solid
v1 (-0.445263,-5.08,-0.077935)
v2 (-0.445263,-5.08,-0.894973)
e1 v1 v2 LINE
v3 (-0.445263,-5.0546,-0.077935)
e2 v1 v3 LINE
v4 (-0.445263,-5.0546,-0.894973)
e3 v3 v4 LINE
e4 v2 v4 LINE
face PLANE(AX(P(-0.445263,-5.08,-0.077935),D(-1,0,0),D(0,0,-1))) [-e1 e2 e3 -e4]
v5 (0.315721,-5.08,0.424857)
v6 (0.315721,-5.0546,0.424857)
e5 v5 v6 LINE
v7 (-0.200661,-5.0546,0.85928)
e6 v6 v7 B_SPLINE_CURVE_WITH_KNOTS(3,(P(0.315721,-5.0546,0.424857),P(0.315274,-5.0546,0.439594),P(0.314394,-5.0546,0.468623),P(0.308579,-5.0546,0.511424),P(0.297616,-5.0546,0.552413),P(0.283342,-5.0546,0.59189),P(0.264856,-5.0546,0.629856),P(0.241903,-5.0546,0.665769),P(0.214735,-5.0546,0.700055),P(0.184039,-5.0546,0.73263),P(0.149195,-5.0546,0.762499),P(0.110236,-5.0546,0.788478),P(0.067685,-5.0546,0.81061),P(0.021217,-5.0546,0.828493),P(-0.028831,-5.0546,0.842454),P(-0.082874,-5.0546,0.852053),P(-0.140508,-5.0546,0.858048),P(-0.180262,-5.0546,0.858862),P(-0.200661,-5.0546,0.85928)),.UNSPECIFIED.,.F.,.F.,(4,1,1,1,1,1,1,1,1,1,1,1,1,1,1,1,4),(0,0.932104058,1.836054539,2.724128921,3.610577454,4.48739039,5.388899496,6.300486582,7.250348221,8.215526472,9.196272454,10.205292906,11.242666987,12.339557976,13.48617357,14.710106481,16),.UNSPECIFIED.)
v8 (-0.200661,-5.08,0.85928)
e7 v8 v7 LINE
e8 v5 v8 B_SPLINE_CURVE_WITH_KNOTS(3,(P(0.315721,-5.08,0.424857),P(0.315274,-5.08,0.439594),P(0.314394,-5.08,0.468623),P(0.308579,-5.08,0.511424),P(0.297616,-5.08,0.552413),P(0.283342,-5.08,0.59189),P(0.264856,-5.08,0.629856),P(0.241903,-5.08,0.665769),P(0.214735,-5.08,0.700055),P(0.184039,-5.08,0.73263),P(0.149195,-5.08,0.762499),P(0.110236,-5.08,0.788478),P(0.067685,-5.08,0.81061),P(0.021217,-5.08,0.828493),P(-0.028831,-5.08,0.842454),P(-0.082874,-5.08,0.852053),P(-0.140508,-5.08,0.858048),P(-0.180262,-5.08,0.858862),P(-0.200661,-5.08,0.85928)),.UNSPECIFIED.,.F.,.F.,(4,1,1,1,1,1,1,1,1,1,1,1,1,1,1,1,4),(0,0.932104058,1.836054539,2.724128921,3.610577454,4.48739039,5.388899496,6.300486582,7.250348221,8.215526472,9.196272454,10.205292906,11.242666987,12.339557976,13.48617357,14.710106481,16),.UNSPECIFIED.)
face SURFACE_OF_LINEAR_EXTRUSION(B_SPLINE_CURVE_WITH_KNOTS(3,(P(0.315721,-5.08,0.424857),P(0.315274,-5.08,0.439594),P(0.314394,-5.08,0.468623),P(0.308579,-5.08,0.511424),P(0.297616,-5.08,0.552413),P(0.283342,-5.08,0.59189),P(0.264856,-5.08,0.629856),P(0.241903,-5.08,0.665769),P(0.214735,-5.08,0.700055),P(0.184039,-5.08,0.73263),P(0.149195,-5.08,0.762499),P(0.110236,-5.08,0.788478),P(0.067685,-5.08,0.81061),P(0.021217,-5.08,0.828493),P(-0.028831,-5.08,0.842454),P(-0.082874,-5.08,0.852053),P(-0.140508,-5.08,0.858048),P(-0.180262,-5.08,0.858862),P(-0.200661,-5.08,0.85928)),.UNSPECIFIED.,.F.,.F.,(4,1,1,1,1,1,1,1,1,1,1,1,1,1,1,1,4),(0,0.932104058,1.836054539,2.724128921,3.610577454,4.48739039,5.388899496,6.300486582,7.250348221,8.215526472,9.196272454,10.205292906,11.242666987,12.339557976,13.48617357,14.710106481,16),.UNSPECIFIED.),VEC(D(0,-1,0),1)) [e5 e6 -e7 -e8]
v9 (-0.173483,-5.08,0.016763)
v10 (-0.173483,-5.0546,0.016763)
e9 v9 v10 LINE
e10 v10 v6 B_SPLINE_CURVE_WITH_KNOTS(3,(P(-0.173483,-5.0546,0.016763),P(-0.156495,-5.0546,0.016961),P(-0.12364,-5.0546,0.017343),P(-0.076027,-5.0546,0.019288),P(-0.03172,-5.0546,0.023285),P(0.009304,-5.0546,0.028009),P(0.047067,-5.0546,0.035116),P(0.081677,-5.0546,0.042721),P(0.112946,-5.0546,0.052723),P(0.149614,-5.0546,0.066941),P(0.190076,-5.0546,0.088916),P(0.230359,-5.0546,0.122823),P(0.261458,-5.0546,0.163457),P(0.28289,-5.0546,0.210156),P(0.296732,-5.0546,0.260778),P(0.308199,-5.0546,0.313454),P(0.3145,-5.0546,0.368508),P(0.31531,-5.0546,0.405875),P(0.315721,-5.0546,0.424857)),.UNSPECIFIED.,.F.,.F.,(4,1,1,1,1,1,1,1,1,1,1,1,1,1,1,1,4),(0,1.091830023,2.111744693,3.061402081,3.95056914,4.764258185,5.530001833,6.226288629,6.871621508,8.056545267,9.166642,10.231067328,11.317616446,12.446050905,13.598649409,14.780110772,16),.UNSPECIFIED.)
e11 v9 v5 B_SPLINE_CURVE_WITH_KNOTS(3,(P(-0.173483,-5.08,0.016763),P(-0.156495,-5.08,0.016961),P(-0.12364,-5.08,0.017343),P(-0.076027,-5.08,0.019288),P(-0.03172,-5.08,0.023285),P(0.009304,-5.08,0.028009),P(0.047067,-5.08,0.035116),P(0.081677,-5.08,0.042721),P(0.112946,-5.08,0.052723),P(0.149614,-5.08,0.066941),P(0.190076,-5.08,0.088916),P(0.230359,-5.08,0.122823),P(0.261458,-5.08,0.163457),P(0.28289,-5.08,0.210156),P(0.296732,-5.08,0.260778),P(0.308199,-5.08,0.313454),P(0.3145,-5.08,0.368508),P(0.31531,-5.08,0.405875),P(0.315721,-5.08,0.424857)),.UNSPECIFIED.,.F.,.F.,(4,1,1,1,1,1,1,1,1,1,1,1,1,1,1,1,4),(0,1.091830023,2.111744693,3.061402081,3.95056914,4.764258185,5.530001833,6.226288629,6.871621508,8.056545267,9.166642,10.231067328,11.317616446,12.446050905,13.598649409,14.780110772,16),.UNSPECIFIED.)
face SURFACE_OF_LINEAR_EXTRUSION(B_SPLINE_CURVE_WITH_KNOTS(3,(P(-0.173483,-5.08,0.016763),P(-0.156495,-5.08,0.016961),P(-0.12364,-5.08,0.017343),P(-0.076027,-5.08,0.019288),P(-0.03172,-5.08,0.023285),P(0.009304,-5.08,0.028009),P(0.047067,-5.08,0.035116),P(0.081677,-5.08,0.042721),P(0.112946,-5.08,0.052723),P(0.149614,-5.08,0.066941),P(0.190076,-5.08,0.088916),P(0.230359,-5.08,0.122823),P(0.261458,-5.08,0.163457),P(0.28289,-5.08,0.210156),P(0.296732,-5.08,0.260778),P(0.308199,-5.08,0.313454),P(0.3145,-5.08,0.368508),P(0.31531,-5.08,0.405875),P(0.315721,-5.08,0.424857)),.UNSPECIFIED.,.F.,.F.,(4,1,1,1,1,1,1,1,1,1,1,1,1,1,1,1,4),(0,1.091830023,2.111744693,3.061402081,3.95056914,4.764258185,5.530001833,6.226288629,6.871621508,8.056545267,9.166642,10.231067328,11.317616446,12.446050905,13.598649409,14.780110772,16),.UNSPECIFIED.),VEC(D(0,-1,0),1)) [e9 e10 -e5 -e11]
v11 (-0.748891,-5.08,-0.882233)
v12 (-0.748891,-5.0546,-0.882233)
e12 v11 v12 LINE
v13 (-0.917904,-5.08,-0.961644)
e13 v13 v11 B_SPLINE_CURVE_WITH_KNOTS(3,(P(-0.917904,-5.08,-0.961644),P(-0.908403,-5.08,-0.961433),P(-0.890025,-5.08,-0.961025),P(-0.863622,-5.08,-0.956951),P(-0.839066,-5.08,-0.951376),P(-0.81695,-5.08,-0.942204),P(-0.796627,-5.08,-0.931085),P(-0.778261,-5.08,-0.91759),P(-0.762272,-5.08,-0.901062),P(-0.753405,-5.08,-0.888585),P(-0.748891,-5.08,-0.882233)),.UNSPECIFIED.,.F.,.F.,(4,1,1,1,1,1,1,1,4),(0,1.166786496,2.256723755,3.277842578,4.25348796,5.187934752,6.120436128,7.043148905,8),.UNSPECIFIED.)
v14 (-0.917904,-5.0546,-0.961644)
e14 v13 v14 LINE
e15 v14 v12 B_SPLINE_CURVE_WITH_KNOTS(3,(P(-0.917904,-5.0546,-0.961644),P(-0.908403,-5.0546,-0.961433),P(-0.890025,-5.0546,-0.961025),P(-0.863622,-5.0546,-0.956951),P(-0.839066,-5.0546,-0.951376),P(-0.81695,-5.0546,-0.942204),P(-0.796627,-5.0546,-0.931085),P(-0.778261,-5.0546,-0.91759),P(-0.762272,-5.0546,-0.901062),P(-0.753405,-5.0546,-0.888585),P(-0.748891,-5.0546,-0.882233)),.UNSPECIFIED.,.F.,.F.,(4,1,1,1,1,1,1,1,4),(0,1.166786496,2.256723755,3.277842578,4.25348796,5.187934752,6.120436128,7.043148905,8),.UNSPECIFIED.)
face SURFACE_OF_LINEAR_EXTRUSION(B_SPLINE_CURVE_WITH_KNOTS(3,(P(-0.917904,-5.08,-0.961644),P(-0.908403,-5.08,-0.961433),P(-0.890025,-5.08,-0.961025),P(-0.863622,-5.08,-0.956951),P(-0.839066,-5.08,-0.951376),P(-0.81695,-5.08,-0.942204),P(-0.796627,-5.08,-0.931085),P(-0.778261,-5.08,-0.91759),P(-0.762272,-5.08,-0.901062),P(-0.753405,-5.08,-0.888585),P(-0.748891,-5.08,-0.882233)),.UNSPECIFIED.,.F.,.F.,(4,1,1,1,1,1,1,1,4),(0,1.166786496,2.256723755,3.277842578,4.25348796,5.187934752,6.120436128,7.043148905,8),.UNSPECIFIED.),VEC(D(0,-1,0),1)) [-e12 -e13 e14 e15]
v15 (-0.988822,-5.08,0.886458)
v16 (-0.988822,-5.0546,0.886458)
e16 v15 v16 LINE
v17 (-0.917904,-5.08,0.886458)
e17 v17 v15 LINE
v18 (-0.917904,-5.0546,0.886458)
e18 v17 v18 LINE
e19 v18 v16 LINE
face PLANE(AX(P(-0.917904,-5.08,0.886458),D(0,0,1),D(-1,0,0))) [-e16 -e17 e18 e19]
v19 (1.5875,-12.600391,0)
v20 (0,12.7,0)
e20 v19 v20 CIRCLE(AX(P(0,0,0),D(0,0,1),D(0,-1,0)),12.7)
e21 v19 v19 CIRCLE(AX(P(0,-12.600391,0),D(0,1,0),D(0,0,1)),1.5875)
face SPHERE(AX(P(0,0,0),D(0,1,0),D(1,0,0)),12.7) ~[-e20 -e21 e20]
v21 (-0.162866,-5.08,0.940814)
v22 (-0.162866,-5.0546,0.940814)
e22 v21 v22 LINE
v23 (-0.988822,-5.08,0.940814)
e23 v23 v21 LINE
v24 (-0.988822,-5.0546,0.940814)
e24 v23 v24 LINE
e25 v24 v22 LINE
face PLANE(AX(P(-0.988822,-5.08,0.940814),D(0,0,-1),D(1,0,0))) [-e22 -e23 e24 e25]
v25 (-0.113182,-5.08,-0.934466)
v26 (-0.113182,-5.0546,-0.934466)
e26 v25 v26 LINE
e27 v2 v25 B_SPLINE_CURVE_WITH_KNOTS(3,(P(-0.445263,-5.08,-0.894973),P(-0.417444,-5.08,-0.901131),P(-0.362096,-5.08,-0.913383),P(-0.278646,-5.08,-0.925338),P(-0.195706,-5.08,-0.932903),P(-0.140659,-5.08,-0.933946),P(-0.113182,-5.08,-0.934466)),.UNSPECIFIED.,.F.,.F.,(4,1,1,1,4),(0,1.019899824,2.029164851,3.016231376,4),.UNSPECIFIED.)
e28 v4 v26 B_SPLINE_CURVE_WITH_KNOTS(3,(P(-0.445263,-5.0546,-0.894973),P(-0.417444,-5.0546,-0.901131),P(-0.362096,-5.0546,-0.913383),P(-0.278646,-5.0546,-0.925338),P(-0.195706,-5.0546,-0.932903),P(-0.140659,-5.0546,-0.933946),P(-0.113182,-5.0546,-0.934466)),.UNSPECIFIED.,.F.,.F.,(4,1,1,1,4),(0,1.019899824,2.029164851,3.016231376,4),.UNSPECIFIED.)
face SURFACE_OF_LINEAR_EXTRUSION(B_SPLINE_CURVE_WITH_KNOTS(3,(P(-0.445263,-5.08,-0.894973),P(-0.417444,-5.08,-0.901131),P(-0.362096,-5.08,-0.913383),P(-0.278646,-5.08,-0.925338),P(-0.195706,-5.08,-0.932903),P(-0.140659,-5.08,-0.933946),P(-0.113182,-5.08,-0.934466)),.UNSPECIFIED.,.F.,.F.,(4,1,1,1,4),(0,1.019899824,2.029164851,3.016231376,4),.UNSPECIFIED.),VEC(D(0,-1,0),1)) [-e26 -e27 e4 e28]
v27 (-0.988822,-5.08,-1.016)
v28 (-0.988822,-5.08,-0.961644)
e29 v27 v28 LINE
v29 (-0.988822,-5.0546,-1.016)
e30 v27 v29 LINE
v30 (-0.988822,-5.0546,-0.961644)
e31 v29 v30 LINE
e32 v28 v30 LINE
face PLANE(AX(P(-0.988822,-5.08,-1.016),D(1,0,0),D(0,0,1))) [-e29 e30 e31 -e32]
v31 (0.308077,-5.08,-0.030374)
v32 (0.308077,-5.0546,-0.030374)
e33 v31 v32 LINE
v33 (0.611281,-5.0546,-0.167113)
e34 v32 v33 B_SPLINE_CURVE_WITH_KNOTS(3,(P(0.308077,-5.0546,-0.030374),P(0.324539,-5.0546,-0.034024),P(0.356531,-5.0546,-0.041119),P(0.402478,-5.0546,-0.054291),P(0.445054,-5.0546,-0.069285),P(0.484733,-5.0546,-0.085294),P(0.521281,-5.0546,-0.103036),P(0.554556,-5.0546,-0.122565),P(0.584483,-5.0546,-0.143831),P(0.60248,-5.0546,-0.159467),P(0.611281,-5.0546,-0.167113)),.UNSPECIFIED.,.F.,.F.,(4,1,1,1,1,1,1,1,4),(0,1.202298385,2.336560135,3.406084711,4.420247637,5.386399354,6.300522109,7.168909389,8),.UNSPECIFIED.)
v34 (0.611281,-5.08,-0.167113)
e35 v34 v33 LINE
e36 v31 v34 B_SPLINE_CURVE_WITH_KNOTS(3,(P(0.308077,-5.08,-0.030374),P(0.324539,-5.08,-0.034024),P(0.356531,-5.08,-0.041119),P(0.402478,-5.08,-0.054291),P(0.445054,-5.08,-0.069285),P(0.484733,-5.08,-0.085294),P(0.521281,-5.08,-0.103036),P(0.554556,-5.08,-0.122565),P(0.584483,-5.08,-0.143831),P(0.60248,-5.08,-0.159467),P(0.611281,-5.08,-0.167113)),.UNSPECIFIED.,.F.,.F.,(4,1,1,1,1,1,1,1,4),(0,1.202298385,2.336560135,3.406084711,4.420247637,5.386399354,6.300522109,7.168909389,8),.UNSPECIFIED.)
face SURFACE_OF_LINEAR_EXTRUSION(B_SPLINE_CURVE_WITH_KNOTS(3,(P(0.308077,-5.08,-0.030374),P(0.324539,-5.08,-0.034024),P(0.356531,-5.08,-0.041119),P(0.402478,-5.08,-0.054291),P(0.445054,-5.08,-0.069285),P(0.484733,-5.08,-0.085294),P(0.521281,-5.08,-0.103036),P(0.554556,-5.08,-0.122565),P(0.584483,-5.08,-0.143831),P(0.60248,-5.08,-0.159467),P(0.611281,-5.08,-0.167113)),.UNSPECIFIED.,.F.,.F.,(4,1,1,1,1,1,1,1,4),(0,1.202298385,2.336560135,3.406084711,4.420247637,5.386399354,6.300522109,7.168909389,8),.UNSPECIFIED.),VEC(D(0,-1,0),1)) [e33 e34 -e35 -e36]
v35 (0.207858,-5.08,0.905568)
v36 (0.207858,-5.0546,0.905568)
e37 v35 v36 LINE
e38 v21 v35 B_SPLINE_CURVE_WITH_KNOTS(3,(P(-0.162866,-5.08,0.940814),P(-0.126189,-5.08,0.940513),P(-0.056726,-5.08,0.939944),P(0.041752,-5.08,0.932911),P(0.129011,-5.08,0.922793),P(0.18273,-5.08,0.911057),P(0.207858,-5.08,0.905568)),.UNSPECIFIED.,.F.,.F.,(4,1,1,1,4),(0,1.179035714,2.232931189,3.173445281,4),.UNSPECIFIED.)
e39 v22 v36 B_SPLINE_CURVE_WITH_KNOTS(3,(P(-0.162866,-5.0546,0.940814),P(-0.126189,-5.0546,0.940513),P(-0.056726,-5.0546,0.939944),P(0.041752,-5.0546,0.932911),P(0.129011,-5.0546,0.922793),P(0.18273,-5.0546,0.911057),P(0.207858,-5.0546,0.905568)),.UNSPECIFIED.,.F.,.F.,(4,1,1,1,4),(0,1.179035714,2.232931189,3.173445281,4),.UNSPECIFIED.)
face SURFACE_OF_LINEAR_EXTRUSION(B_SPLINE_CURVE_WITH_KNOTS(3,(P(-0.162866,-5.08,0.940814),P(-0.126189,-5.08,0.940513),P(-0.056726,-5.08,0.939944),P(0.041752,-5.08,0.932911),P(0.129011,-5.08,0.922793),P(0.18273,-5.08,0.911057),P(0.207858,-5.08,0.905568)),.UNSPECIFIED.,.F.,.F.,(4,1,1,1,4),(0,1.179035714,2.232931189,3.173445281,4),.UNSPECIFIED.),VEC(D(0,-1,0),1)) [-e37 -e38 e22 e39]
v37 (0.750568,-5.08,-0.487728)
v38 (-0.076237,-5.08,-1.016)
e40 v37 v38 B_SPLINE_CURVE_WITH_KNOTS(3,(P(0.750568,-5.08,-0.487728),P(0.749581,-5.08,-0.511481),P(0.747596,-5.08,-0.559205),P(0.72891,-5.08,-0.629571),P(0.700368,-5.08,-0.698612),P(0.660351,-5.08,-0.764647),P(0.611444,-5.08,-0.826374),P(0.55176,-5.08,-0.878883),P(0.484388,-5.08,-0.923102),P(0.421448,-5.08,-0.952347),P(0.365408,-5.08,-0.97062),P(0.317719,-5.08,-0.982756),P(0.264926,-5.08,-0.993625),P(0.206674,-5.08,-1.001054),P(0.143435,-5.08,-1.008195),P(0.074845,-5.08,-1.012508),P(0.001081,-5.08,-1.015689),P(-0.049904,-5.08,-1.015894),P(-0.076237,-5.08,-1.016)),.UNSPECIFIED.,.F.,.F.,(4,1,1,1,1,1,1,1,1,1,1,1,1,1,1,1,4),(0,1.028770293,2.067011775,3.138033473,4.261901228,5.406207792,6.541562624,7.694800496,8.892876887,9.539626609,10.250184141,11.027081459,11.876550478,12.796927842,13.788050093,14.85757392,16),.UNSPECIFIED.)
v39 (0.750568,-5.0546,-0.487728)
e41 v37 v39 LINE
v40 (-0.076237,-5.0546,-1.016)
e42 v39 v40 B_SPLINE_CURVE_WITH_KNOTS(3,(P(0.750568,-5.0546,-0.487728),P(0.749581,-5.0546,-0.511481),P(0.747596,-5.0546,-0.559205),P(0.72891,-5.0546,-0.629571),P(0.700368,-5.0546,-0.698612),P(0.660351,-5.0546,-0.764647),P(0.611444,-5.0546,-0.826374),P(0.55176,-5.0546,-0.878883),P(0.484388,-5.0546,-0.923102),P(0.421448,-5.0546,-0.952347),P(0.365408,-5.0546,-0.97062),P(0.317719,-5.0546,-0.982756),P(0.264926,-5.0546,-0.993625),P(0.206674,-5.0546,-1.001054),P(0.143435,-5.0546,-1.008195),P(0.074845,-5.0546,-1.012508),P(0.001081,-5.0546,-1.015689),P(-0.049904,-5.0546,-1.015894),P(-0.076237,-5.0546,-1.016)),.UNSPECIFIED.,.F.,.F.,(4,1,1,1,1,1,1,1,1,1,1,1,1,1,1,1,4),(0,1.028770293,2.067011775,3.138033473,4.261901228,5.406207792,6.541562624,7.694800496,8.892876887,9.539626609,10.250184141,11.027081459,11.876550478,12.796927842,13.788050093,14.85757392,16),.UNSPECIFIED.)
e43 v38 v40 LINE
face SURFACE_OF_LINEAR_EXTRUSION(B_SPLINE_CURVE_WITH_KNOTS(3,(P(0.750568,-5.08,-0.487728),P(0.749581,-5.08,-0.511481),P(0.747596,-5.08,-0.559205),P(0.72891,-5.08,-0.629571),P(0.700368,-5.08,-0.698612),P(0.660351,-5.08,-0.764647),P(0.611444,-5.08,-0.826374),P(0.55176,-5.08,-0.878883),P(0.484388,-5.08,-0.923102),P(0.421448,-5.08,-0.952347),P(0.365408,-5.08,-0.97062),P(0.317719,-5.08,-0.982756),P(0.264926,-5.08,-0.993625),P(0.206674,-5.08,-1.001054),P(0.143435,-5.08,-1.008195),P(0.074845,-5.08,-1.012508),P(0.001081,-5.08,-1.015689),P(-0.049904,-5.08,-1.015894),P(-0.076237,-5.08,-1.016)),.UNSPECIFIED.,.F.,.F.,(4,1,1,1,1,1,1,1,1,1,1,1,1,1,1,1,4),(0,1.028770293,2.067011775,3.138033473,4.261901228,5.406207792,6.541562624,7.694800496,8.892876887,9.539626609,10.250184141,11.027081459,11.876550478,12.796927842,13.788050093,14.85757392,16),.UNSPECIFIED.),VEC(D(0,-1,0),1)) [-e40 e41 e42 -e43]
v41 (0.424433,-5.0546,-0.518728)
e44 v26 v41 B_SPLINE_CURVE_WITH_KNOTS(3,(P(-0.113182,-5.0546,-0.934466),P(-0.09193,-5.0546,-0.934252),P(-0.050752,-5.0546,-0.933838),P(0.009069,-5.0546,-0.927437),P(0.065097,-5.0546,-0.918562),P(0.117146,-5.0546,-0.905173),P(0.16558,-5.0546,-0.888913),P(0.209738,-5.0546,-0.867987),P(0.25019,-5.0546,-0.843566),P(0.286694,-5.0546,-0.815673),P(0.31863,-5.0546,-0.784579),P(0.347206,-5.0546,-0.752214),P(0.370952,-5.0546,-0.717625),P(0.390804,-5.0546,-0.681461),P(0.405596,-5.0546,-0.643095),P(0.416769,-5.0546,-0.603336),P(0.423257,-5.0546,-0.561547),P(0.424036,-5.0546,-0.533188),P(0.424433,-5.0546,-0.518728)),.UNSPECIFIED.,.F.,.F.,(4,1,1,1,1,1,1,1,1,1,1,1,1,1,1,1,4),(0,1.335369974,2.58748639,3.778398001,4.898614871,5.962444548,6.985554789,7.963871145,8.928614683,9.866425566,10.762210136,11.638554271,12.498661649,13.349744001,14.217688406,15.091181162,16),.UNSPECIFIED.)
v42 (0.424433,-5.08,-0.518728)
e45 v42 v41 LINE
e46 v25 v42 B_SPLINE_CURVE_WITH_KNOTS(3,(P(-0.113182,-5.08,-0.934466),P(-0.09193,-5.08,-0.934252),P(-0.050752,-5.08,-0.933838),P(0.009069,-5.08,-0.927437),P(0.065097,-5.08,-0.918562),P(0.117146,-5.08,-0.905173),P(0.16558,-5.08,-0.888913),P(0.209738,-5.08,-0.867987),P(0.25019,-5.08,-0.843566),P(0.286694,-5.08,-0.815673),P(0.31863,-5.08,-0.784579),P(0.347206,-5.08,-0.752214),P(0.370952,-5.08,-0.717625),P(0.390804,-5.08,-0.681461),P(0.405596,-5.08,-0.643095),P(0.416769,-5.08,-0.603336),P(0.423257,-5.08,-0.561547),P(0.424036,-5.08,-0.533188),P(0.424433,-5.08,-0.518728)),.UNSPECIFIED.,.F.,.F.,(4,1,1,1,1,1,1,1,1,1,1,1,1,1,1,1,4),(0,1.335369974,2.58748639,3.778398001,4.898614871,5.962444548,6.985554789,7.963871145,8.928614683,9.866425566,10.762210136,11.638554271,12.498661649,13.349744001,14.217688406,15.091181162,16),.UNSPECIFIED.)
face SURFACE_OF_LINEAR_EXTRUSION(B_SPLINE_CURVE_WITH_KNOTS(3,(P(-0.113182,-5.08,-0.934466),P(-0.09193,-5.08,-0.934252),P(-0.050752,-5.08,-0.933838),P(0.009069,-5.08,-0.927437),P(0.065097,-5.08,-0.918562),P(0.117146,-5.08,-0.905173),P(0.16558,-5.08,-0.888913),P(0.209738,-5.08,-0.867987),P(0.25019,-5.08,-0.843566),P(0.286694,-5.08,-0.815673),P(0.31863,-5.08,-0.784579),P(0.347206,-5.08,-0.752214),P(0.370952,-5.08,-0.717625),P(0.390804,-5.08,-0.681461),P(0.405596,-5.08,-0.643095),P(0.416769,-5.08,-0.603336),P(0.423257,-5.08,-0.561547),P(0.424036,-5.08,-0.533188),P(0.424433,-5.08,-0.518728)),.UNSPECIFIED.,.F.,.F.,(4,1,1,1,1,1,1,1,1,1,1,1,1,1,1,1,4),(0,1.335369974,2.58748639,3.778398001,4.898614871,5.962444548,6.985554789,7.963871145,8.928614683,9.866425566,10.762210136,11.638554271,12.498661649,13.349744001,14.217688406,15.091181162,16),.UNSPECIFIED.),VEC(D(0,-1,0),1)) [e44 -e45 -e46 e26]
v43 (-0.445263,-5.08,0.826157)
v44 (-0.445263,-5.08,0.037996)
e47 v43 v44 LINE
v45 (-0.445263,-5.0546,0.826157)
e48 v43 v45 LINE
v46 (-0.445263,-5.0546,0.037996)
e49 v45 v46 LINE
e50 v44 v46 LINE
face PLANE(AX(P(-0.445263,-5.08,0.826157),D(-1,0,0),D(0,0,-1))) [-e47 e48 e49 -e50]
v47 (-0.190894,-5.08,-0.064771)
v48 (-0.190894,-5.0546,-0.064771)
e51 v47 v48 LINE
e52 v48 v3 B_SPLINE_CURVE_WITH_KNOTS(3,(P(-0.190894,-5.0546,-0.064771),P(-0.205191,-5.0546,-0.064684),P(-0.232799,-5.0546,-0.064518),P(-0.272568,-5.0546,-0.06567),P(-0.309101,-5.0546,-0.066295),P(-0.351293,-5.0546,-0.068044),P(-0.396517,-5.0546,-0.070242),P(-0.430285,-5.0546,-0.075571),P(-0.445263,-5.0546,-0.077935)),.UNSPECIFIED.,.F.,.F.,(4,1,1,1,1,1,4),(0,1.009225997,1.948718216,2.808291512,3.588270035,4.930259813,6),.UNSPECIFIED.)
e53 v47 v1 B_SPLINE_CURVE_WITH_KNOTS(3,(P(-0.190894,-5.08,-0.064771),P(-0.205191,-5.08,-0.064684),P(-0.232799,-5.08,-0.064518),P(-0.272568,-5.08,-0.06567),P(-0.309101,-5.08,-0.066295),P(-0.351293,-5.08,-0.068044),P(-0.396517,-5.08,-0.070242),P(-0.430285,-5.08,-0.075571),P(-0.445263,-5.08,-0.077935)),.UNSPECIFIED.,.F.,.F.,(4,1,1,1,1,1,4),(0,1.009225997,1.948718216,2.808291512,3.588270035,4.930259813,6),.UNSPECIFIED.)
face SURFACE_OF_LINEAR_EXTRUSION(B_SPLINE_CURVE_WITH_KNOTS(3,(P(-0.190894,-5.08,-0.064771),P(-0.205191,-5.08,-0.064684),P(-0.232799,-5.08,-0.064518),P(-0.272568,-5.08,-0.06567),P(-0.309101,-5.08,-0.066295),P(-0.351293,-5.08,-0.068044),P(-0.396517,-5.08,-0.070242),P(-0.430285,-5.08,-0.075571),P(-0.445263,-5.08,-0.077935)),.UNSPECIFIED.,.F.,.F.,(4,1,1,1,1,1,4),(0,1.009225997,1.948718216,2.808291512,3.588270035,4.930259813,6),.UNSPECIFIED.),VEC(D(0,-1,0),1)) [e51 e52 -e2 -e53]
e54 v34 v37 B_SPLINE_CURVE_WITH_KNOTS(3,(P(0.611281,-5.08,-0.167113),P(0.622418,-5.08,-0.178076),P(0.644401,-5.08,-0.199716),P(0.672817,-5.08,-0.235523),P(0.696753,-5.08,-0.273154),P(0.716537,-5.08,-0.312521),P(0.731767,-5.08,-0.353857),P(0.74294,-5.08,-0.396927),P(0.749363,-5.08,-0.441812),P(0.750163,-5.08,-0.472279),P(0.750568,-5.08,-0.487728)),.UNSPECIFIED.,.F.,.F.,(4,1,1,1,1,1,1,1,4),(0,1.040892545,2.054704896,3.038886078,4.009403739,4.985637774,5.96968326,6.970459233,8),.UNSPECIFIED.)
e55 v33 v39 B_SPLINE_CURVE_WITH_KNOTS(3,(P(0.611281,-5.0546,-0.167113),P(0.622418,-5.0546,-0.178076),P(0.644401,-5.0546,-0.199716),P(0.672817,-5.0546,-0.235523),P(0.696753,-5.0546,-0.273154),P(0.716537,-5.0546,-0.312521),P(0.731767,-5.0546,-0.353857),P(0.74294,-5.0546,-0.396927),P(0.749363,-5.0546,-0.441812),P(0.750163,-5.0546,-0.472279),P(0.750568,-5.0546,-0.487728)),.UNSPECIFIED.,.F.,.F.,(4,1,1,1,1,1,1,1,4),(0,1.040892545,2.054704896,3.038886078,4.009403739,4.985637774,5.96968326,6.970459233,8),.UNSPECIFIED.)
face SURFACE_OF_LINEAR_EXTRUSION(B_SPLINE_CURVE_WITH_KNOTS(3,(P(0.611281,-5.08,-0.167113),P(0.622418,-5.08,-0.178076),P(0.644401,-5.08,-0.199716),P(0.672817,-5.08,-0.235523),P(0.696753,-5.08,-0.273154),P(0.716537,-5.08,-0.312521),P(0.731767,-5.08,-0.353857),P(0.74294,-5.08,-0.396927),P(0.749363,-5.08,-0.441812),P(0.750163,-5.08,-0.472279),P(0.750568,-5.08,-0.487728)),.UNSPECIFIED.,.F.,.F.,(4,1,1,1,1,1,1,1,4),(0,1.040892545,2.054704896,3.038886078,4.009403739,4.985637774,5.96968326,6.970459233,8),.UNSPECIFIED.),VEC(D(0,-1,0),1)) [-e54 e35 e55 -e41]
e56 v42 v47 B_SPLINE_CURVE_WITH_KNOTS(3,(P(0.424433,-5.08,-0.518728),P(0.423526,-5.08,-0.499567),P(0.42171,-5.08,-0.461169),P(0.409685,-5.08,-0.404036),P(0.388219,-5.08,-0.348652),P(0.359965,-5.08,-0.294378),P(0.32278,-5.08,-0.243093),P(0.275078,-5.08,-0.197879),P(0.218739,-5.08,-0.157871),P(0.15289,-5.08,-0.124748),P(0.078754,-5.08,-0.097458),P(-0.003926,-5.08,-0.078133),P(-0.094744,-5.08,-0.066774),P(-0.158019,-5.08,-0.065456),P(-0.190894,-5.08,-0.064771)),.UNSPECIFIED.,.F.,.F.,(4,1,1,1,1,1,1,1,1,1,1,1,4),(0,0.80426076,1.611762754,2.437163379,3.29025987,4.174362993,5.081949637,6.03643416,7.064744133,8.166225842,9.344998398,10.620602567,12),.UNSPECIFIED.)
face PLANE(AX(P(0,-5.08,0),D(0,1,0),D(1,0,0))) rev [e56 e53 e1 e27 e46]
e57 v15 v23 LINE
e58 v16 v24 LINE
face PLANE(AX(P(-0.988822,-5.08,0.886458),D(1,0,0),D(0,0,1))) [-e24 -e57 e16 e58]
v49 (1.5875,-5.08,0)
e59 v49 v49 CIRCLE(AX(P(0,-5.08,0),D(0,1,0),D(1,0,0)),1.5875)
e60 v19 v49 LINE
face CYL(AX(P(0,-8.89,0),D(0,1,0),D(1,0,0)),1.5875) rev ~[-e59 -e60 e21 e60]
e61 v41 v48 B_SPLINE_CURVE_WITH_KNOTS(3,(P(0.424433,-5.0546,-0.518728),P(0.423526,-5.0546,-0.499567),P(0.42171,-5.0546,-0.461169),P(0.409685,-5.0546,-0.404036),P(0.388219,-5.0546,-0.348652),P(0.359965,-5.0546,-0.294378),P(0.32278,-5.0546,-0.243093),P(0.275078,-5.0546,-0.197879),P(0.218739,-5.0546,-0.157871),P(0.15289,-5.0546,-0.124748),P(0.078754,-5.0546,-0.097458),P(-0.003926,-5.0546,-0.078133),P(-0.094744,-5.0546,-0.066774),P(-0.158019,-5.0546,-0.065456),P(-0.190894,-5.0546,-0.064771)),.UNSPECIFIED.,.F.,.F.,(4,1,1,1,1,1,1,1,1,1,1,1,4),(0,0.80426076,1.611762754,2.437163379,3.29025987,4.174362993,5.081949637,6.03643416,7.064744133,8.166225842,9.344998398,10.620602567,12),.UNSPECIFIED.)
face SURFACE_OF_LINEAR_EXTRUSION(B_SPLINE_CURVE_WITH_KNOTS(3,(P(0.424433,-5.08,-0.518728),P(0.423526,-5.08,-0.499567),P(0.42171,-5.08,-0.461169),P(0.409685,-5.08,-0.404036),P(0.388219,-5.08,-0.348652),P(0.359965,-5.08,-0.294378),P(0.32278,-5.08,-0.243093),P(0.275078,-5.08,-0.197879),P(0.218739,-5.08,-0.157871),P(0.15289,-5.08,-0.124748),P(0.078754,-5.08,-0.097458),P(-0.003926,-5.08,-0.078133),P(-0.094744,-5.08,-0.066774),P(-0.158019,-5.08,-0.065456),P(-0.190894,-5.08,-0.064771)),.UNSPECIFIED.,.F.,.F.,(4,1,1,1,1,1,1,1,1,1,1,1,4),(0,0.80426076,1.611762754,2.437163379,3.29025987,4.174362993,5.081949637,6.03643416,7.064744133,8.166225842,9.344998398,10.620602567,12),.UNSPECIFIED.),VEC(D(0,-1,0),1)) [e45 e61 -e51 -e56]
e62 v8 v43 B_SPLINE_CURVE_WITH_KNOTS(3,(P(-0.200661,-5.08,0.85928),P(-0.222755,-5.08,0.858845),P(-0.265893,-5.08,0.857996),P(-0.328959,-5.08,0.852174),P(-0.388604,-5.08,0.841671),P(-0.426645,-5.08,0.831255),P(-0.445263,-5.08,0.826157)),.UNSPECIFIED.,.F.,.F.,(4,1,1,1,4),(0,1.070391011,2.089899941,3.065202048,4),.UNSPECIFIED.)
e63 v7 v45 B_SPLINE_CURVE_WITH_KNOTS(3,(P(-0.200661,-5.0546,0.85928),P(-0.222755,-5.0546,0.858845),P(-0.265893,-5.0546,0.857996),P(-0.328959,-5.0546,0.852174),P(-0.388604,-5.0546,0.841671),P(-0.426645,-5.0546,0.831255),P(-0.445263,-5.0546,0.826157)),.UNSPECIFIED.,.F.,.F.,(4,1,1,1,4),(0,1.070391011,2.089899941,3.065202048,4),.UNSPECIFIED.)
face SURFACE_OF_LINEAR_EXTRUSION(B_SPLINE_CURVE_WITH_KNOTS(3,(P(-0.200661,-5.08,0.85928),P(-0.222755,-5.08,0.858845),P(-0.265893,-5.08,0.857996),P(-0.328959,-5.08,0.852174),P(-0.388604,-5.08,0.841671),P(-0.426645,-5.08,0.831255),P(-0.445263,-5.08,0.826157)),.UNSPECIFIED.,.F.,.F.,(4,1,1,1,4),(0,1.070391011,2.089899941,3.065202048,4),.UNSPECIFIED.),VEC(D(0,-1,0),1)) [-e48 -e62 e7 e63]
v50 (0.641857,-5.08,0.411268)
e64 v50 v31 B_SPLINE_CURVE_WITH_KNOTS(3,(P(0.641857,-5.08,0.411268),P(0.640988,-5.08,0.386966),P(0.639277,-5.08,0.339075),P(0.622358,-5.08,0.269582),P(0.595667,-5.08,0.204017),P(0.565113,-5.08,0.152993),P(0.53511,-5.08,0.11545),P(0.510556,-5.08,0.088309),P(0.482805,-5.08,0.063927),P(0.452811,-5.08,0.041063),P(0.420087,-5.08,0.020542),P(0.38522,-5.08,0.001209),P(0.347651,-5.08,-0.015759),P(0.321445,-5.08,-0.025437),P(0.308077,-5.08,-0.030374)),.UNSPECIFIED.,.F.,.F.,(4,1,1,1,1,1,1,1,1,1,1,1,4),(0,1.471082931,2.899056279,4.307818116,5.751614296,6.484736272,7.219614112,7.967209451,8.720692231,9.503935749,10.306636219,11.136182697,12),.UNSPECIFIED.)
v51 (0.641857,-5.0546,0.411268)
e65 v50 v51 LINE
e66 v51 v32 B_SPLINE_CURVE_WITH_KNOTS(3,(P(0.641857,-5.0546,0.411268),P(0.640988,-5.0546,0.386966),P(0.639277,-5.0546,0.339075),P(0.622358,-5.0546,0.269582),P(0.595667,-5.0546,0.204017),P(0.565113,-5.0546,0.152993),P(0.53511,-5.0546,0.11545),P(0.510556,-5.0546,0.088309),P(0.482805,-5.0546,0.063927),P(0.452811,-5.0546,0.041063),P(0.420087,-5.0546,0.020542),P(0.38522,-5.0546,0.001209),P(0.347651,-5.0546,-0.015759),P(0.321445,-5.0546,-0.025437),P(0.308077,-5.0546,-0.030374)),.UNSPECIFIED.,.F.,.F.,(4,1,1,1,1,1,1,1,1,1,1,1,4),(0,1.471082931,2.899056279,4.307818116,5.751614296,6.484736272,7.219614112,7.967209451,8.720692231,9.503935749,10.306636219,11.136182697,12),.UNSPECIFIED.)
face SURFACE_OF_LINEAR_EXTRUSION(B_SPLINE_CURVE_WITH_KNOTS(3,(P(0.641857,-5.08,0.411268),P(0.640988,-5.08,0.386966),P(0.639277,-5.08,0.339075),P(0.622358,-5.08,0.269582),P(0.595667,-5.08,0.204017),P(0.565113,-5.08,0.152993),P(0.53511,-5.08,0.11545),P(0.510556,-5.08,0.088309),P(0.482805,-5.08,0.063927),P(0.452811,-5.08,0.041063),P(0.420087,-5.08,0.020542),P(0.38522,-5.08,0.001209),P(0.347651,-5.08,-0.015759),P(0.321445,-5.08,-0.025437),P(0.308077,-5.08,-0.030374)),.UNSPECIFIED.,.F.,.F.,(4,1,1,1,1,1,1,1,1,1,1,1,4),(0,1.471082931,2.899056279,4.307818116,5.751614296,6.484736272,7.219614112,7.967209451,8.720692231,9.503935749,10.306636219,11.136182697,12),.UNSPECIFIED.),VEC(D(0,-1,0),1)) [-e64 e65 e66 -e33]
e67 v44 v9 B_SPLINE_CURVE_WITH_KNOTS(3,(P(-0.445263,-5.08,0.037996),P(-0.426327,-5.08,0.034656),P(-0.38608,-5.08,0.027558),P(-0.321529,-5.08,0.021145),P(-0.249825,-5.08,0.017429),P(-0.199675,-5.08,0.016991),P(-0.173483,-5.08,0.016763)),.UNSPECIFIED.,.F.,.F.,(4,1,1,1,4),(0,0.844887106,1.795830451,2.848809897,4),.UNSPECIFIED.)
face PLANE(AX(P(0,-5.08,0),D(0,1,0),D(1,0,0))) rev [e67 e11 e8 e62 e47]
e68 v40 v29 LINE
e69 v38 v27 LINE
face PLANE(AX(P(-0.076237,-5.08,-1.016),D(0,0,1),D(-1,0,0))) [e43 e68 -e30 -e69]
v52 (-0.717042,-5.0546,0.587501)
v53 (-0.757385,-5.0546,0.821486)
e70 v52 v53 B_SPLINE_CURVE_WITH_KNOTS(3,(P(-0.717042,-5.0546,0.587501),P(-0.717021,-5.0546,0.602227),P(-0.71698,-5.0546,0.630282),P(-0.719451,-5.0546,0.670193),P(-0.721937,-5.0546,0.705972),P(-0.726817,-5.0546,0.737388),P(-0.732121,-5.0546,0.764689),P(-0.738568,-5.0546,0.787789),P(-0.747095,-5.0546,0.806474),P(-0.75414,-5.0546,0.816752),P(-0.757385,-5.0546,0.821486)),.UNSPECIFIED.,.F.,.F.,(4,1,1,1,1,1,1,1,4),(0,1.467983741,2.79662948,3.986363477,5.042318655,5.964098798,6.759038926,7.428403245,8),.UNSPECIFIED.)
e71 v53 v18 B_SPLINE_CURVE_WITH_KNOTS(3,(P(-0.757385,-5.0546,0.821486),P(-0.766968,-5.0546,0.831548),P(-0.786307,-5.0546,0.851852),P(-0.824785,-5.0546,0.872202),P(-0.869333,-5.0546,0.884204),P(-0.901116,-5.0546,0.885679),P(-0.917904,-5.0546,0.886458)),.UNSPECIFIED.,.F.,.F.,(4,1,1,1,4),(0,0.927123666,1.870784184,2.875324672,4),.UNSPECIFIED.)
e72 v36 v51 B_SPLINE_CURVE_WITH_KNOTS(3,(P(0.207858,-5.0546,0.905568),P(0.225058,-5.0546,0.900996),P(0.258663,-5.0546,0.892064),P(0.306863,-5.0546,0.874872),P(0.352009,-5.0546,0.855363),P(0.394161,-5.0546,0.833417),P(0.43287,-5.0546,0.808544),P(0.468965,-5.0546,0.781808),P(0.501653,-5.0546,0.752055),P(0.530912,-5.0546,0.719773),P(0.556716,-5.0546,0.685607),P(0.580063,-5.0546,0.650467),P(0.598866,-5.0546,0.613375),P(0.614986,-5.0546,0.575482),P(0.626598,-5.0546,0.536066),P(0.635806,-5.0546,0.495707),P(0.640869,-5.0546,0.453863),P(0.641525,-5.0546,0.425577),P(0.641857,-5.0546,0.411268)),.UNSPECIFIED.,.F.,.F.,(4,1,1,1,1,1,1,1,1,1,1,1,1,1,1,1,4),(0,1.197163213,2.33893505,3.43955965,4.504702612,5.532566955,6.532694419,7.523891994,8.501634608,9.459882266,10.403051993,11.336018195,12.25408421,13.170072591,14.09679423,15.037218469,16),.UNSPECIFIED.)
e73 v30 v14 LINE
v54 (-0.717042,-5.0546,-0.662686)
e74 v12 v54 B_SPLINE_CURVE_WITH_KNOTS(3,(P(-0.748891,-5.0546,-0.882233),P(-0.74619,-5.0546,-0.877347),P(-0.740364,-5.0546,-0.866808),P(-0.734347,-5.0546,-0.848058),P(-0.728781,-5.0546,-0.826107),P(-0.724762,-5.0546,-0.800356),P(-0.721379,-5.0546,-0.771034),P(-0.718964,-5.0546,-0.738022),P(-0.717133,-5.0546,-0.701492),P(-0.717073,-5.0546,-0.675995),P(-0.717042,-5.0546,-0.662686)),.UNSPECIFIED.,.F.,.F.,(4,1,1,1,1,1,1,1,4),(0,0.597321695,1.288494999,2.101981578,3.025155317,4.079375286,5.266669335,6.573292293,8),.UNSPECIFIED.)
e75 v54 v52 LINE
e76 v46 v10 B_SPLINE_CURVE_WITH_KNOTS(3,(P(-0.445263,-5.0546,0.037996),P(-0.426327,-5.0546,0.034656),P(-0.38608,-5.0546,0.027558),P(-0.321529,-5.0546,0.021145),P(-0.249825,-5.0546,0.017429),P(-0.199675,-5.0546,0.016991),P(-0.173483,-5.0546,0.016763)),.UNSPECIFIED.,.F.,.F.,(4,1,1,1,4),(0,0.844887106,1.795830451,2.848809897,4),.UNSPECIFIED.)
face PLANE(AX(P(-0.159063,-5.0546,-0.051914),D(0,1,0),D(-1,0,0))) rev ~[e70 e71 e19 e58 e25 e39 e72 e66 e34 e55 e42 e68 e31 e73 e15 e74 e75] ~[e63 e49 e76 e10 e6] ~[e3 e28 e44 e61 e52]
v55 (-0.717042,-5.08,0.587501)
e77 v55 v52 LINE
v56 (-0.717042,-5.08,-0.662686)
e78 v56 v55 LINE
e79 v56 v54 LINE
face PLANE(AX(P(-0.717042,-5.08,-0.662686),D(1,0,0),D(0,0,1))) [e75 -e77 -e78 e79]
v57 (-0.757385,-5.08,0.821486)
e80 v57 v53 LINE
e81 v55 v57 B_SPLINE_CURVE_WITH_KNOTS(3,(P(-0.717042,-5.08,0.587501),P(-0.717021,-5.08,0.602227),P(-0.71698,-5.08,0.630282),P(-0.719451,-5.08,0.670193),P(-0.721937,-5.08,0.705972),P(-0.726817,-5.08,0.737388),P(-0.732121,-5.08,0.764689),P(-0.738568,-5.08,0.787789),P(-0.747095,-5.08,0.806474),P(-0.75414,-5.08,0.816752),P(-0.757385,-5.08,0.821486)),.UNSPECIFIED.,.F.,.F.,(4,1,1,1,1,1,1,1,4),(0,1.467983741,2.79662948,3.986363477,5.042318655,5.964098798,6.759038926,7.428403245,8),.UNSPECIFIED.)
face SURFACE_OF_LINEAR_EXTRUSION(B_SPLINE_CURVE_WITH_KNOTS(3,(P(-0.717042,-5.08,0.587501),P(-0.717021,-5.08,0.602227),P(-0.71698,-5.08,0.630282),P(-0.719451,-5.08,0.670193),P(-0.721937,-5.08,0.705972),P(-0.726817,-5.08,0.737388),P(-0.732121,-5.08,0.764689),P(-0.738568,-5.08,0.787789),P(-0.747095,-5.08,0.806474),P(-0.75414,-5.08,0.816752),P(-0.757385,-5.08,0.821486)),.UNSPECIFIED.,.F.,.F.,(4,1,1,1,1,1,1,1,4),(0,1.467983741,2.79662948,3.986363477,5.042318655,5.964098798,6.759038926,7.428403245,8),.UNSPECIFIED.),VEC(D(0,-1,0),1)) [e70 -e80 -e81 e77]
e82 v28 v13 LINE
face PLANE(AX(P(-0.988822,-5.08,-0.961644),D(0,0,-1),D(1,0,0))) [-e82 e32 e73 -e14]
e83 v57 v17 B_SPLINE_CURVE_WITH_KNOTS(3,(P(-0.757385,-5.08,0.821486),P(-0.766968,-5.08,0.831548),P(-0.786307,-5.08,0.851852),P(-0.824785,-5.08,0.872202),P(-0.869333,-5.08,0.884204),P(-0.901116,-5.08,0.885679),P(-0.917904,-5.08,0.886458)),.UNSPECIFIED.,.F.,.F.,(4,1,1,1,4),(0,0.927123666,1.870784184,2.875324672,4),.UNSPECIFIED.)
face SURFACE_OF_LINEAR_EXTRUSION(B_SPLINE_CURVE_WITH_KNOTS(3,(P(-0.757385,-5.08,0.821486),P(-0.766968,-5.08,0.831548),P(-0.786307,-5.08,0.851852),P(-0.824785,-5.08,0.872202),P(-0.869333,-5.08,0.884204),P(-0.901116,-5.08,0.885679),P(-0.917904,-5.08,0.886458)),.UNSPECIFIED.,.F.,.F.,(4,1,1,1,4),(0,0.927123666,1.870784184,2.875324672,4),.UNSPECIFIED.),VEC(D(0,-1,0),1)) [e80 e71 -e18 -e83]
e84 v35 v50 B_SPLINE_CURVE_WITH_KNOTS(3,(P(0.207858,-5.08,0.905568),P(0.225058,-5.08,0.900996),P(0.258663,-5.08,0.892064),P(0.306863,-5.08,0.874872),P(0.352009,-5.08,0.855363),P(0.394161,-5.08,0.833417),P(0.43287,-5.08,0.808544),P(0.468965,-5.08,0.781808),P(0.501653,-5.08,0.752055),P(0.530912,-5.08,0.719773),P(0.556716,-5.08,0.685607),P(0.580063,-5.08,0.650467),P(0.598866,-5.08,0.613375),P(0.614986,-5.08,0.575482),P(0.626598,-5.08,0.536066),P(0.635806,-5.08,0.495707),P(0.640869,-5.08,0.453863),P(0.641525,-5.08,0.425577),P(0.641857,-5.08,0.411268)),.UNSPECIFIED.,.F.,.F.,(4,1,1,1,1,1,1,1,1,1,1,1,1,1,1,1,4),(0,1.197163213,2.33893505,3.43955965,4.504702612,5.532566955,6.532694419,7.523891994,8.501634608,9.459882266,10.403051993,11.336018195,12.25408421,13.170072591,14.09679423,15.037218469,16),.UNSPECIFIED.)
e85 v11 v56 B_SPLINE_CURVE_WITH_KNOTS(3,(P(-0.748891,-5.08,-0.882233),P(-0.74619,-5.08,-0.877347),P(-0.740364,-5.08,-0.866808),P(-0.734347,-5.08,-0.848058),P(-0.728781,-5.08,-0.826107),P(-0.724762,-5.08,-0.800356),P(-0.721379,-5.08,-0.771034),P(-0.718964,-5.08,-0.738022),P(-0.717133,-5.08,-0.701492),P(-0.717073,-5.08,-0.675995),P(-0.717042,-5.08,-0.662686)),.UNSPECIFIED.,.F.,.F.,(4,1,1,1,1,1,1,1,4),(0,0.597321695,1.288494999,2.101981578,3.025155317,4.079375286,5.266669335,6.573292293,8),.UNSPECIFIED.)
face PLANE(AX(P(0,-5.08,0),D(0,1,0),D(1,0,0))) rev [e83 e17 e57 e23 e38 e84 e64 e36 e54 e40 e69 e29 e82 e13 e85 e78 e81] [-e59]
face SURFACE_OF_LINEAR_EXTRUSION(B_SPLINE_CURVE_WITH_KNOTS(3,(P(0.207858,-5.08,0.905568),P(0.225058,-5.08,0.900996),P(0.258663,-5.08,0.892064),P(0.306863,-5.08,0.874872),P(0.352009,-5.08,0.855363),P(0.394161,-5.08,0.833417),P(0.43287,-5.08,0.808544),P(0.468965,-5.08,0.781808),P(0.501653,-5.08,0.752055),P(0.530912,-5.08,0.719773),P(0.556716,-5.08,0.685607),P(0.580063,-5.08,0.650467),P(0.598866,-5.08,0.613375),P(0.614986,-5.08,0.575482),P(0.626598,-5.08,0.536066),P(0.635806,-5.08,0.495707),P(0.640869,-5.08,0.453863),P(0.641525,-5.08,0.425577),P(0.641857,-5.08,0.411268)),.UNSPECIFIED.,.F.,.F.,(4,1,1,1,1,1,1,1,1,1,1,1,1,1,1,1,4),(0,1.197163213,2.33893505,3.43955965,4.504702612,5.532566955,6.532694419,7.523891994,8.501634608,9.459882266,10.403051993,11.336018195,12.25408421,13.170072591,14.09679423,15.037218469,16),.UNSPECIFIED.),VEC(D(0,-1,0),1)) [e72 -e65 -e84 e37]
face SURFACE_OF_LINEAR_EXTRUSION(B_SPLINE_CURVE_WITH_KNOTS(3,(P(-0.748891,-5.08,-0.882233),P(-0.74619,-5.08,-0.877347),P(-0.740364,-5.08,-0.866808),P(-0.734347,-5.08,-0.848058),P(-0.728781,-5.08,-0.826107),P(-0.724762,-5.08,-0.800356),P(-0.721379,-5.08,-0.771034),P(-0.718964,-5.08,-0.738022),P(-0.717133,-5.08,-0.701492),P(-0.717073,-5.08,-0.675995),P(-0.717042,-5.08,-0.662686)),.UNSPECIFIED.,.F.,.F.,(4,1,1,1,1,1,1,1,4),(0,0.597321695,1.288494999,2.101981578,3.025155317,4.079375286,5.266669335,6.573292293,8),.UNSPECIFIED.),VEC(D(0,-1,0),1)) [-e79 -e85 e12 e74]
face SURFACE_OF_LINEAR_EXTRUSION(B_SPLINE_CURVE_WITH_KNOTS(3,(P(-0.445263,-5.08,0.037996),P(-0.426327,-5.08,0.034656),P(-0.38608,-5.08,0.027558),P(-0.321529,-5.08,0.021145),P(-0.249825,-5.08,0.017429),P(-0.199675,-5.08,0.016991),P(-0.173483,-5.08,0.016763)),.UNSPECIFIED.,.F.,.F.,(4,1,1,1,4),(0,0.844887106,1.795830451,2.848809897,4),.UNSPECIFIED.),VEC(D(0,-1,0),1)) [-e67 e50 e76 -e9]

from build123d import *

# Parameters (mm, degrees)
SKETCH7_W          = 1.5875
SKETCH7_H          = 7.62
CUT_EXTRUDE1_DEPTH = 0.0254


with BuildPart() as part:
    # Sketch1 → Complete_Ball (revolve)
    with BuildSketch(Plane.XY):
        with BuildLine():
            Line((0, 12.7), (0, -12.7))
            ThreePointArc((0, -12.7), (12.7, 0), (0, 12.7))
        make_face()
    revolve(axis=Axis((0, 13.965019531, 0), (0, -1, 0)))

    # Sketch7 → Ball_w_concentric_hole (revolve, cut)
    with BuildSketch(Plane.XY):
        with Locations((0.79375, -8.89)):
            Rectangle(SKETCH7_W, SKETCH7_H)
    revolve(axis=Axis((0, -6.726898043, 0), (0, 1, 0)), mode=Mode.SUBTRACT)

    # Sketch9 → Cut-Extrude1 (cut)
    with BuildSketch(Plane.XZ.offset(5.08)):
        with BuildLine():
            add(Edge.make_bspline(
                [(0.308076994, -0.030373732), (0.324538713, -0.034024291), (0.356530602, -0.041118827), (0.402477662, -0.054290859), (0.445054282, -0.069285046), (0.484732885, -0.085294373), (0.521280558, -0.103036208), (0.554555606, -0.122564651), (0.584482781, -0.143830699), (0.602480105, -0.159466562), (0.611281283, -0.167112921)],
                knots=[0, 0, 0, 0, 1.202298385, 2.336560135, 3.406084711, 4.420247637, 5.386399354, 6.300522109, 7.168909389, 8, 8, 8, 8], degree=3))
            add(Edge.make_bspline(
                [(0.611281283, -0.167112921), (0.622417749, -0.178075677), (0.644400951, -0.199715976), (0.67281694, -0.235522748), (0.696753104, -0.273154409), (0.716536823, -0.312521351), (0.731766785, -0.353857034), (0.742939599, -0.39692676), (0.749363419, -0.441811935), (0.750162969, -0.472278831), (0.750568408, -0.487728101)],
                knots=[0, 0, 0, 0, 1.040892545, 2.054704896, 3.038886078, 4.009403739, 4.985637774, 5.96968326, 6.970459233, 8, 8, 8, 8], degree=3))
            add(Edge.make_bspline(
                [(0.750568408, -0.487728101), (0.749580677, -0.511480749), (0.747596123, -0.559204719), (0.728910303, -0.629570582), (0.700367842, -0.698612498), (0.660350876, -0.764646818), (0.611443791, -0.826373993), (0.551760396, -0.878883273), (0.484387528, -0.923101532), (0.421448289, -0.952346751), (0.365407997, -0.970620061), (0.317719104, -0.98275638), (0.264926091, -0.993624769), (0.20667372, -1.001054176), (0.143434911, -1.008194794), (0.07484539, -1.01250787), (0.001081213, -1.015688606), (-0.049903845, -1.015893946), (-0.076236566, -1.016)],
                knots=[0, 0, 0, 0, 1.028770293, 2.067011775, 3.138033473, 4.261901228, 5.406207792, 6.541562624, 7.694800496, 8.892876887, 9.539626609, 10.250184141, 11.027081459, 11.876550478, 12.796927842, 13.788050093, 14.85757392, 16, 16, 16, 16], degree=3))
            Line((-0.076236566, -1.016), (-0.988822024, -1.016))
            Line((-0.988822024, -1.016), (-0.988822024, -0.961644049))
            Line((-0.988822024, -0.961644049), (-0.917904495, -0.961644049))
            add(Edge.make_bspline(
                [(-0.917904495, -0.961644049), (-0.908402664, -0.961432941), (-0.890024832, -0.961024629), (-0.863622385, -0.956950597), (-0.839065748, -0.951375967), (-0.816950335, -0.942204208), (-0.796626646, -0.931084721), (-0.778261022, -0.917590019), (-0.762272466, -0.901062238), (-0.753405479, -0.88858522), (-0.74889146, -0.882233402)],
                knots=[0, 0, 0, 0, 1.166786496, 2.256723755, 3.277842578, 4.25348796, 5.187934752, 6.120436128, 7.043148905, 8, 8, 8, 8], degree=3))
            add(Edge.make_bspline(
                [(-0.74889146, -0.882233402), (-0.746190352, -0.877347431), (-0.740363736, -0.866807802), (-0.734346678, -0.84805755), (-0.728780995, -0.826107168), (-0.724762233, -0.800356427), (-0.721378545, -0.77103352), (-0.718963551, -0.738021693), (-0.71713277, -0.701491854), (-0.717073307, -0.675994887), (-0.717042269, -0.662686318)],
                knots=[0, 0, 0, 0, 0.597321695, 1.288494999, 2.101981578, 3.025155317, 4.079375286, 5.266669335, 6.573292293, 8, 8, 8, 8], degree=3))
            Line((-0.717042269, -0.662686318), (-0.717042269, 0.587500555))
            add(Edge.make_bspline(
                [(-0.717042269, 0.587500555), (-0.717020857, 0.602227129), (-0.716980065, 0.63028246), (-0.719451119, 0.670192763), (-0.721936908, 0.705972397), (-0.726817478, 0.737387607), (-0.732121451, 0.764688921), (-0.738568219, 0.7877891), (-0.747095316, 0.806473529), (-0.754139821, 0.816751719), (-0.757384577, 0.821485937)],
                knots=[0, 0, 0, 0, 1.467983741, 2.79662948, 3.986363477, 5.042318655, 5.964098798, 6.759038926, 7.428403245, 8, 8, 8, 8], degree=3))
            add(Edge.make_bspline(
                [(-0.757384577, 0.821485937), (-0.766968382, 0.831548203), (-0.786306937, 0.851852213), (-0.824785442, 0.872201997), (-0.869332734, 0.884203522), (-0.901116145, 0.885678948), (-0.917904495, 0.886458285)],
                knots=[0, 0, 0, 0, 0.927123666, 1.870784184, 2.875324672, 4, 4, 4, 4], degree=3))
            Line((-0.917904495, 0.886458285), (-0.988822024, 0.886458285))
            Line((-0.988822024, 0.886458285), (-0.988822024, 0.940814236))
            Line((-0.988822024, 0.940814236), (-0.162866363, 0.940814236))
            add(Edge.make_bspline(
                [(-0.162866363, 0.940814236), (-0.126188539, 0.940513422), (-0.056725795, 0.939943722), (0.041752121, 0.932910915), (0.129010541, 0.922793404), (0.182730464, 0.91105738), (0.207858209, 0.905567799)],
                knots=[0, 0, 0, 0, 1.179035714, 2.232931189, 3.173445281, 4, 4, 4, 4], degree=3))
            add(Edge.make_bspline(
                [(0.207858209, 0.905567799), (0.225058291, 0.900995857), (0.258662627, 0.892063511), (0.306862604, 0.874872481), (0.35200904, 0.855362596), (0.394161004, 0.833417302), (0.432870067, 0.808543943), (0.468965178, 0.781808256), (0.501653259, 0.752055301), (0.530912052, 0.719772753), (0.556715696, 0.685606681), (0.580062927, 0.650467371), (0.598866319, 0.613375247), (0.614986078, 0.57548153), (0.626598012, 0.536066061), (0.635806285, 0.495707281), (0.640869134, 0.453863359), (0.641524814, 0.425577459), (0.641856506, 0.41126837)],
                knots=[0, 0, 0, 0, 1.197163213, 2.33893505, 3.43955965, 4.504702612, 5.532566955, 6.532694419, 7.523891994, 8.501634608, 9.459882266, 10.403051993, 11.336018195, 12.25408421, 13.170072591, 14.09679423, 15.037218469, 16, 16, 16, 16], degree=3))
            add(Edge.make_bspline(
                [(0.641856506, 0.41126837), (0.640988305, 0.386966428), (0.639277347, 0.339074706), (0.622358228, 0.269582217), (0.595666689, 0.204017494), (0.565112824, 0.152992911), (0.535110113, 0.115449663), (0.510556404, 0.08830852), (0.482805357, 0.063927102), (0.452810586, 0.041062695), (0.420086682, 0.020541755), (0.38522035, 0.001209477), (0.347651311, -0.015759261), (0.321445222, -0.025436955), (0.308076994, -0.030373732)],
                knots=[0, 0, 0, 0, 1.471082931, 2.899056279, 4.307818116, 5.751614296, 6.484736272, 7.219614112, 7.967209451, 8.720692231, 9.503935749, 10.306636219, 11.136182697, 12, 12, 12, 12], degree=3))
        make_face()
        with BuildLine():
            add(Edge.make_bspline(
                [(-0.445262514, 0.037995862), (-0.426327321, 0.034656251), (-0.386080053, 0.027557818), (-0.321529386, 0.021144961), (-0.249825238, 0.017428628), (-0.199675095, 0.016991416), (-0.173482759, 0.016763069)],
                knots=[0, 0, 0, 0, 0.844887106, 1.795830451, 2.848809897, 4, 4, 4, 4], degree=3))
            add(Edge.make_bspline(
                [(-0.173482759, 0.016763069), (-0.156495387, 0.016960654), (-0.123639547, 0.017342808), (-0.076026849, 0.019288173), (-0.031719973, 0.023285242), (0.00930446, 0.028009349), (0.047066576, 0.035115731), (0.08167708, 0.042721005), (0.112945821, 0.052723303), (0.149614447, 0.066940798), (0.19007552, 0.088916151), (0.23035913, 0.122823227), (0.261457989, 0.163456789), (0.282889969, 0.210155805), (0.296731598, 0.260777518), (0.308199203, 0.31345399), (0.314500353, 0.368508228), (0.315309667, 0.405874992), (0.3157208, 0.424857357)],
                knots=[0, 0, 0, 0, 1.091830023, 2.111744693, 3.061402081, 3.95056914, 4.764258185, 5.530001833, 6.226288629, 6.871621508, 8.056545267, 9.166642, 10.231067328, 11.317616446, 12.446050905, 13.598649409, 14.780110772, 16, 16, 16, 16], degree=3))
            add(Edge.make_bspline(
                [(0.3157208, 0.424857357), (0.315274183, 0.439594324), (0.314394441, 0.468623136), (0.308579089, 0.511424009), (0.297616446, 0.552413229), (0.283341565, 0.591889551), (0.264856225, 0.629856323), (0.24190265, 0.6657694), (0.214734501, 0.700054926), (0.1840394, 0.732629931), (0.149194905, 0.76249929), (0.110236379, 0.788477557), (0.067684677, 0.810609885), (0.021216663, 0.82849277), (-0.028831328, 0.842453754), (-0.082873755, 0.85205292), (-0.140507573, 0.858047973), (-0.180261974, 0.858862407), (-0.200660735, 0.85928031)],
                knots=[0, 0, 0, 0, 0.932104058, 1.836054539, 2.724128921, 3.610577454, 4.48739039, 5.388899496, 6.300486582, 7.250348221, 8.215526472, 9.196272454, 10.205292906, 11.242666987, 12.339557976, 13.48617357, 14.710106481, 16, 16, 16, 16], degree=3))
            add(Edge.make_bspline(
                [(-0.200660735, 0.85928031), (-0.222755045, 0.858845399), (-0.265893392, 0.857996252), (-0.32895856, 0.852174222), (-0.388604371, 0.84167089), (-0.426645356, 0.831254772), (-0.445262514, 0.826157152)],
                knots=[0, 0, 0, 0, 1.070391011, 2.089899941, 3.065202048, 4, 4, 4, 4], degree=3))
            Line((-0.445262514, 0.826157152), (-0.445262514, 0.037995862))
        make_face(mode=Mode.SUBTRACT)
        with BuildLine():
            add(Edge.make_bspline(
                [(-0.445262514, -0.894973078), (-0.417443506, -0.901131169), (-0.362095565, -0.913383138), (-0.278646345, -0.925338098), (-0.195705669, -0.932903229), (-0.140658937, -0.933945707), (-0.113181626, -0.934466073)],
                knots=[0, 0, 0, 0, 1.019899824, 2.029164851, 3.016231376, 4, 4, 4, 4], degree=3))
            add(Edge.make_bspline(
                [(-0.113181626, -0.934466073), (-0.091929976, -0.934252226), (-0.050751607, -0.933837863), (0.009069282, -0.927437289), (0.065096664, -0.918561989), (0.117145516, -0.905172654), (0.165579696, -0.88891324), (0.209737927, -0.867987195), (0.25019028, -0.843565692), (0.286693969, -0.815673306), (0.318630006, -0.784579101), (0.347205512, -0.752213582), (0.370951573, -0.71762533), (0.390803655, -0.681461485), (0.405596026, -0.643095371), (0.41676876, -0.603336191), (0.423256869, -0.561547228), (0.424035612, -0.533188423), (0.424432702, -0.518727979)],
                knots=[0, 0, 0, 0, 1.335369974, 2.58748639, 3.778398001, 4.898614871, 5.962444548, 6.985554789, 7.963871145, 8.928614683, 9.866425566, 10.762210136, 11.638554271, 12.498661649, 13.349744001, 14.217688406, 15.091181162, 16, 16, 16, 16], degree=3))
            add(Edge.make_bspline(
                [(0.424432702, -0.518727979), (0.4235265, -0.499567493), (0.421710444, -0.461169303), (0.409685349, -0.404035632), (0.388218739, -0.348651871), (0.359964971, -0.294377764), (0.322780244, -0.243092717), (0.275077564, -0.197879287), (0.218738662, -0.157870999), (0.15288954, -0.124748012), (0.078754411, -0.097458162), (-0.003925713, -0.078132811), (-0.094744496, -0.066773569), (-0.158019387, -0.065455602), (-0.19089365, -0.064770857)],
                knots=[0, 0, 0, 0, 0.80426076, 1.611762754, 2.437163379, 3.29025987, 4.174362993, 5.081949637, 6.03643416, 7.064744133, 8.166225842, 9.344998398, 10.620602567, 12, 12, 12, 12], degree=3))
            add(Edge.make_bspline(
                [(-0.19089365, -0.064770857), (-0.205191428, -0.064684482), (-0.232799059, -0.0645177), (-0.272567725, -0.065669626), (-0.309100885, -0.066295208), (-0.351293058, -0.06804369), (-0.396516564, -0.070242075), (-0.430284502, -0.075571351), (-0.445262514, -0.077935189)],
                knots=[0, 0, 0, 0, 1.009225997, 1.948718216, 2.808291512, 3.588270035, 4.930259813, 6, 6, 6, 6], degree=3))
            Line((-0.445262514, -0.077935189), (-0.445262514, -0.894973078))
        make_face(mode=Mode.SUBTRACT)
    extrude(amount=-CUT_EXTRUDE1_DEPTH, mode=Mode.SUBTRACT)


solid = part.part
